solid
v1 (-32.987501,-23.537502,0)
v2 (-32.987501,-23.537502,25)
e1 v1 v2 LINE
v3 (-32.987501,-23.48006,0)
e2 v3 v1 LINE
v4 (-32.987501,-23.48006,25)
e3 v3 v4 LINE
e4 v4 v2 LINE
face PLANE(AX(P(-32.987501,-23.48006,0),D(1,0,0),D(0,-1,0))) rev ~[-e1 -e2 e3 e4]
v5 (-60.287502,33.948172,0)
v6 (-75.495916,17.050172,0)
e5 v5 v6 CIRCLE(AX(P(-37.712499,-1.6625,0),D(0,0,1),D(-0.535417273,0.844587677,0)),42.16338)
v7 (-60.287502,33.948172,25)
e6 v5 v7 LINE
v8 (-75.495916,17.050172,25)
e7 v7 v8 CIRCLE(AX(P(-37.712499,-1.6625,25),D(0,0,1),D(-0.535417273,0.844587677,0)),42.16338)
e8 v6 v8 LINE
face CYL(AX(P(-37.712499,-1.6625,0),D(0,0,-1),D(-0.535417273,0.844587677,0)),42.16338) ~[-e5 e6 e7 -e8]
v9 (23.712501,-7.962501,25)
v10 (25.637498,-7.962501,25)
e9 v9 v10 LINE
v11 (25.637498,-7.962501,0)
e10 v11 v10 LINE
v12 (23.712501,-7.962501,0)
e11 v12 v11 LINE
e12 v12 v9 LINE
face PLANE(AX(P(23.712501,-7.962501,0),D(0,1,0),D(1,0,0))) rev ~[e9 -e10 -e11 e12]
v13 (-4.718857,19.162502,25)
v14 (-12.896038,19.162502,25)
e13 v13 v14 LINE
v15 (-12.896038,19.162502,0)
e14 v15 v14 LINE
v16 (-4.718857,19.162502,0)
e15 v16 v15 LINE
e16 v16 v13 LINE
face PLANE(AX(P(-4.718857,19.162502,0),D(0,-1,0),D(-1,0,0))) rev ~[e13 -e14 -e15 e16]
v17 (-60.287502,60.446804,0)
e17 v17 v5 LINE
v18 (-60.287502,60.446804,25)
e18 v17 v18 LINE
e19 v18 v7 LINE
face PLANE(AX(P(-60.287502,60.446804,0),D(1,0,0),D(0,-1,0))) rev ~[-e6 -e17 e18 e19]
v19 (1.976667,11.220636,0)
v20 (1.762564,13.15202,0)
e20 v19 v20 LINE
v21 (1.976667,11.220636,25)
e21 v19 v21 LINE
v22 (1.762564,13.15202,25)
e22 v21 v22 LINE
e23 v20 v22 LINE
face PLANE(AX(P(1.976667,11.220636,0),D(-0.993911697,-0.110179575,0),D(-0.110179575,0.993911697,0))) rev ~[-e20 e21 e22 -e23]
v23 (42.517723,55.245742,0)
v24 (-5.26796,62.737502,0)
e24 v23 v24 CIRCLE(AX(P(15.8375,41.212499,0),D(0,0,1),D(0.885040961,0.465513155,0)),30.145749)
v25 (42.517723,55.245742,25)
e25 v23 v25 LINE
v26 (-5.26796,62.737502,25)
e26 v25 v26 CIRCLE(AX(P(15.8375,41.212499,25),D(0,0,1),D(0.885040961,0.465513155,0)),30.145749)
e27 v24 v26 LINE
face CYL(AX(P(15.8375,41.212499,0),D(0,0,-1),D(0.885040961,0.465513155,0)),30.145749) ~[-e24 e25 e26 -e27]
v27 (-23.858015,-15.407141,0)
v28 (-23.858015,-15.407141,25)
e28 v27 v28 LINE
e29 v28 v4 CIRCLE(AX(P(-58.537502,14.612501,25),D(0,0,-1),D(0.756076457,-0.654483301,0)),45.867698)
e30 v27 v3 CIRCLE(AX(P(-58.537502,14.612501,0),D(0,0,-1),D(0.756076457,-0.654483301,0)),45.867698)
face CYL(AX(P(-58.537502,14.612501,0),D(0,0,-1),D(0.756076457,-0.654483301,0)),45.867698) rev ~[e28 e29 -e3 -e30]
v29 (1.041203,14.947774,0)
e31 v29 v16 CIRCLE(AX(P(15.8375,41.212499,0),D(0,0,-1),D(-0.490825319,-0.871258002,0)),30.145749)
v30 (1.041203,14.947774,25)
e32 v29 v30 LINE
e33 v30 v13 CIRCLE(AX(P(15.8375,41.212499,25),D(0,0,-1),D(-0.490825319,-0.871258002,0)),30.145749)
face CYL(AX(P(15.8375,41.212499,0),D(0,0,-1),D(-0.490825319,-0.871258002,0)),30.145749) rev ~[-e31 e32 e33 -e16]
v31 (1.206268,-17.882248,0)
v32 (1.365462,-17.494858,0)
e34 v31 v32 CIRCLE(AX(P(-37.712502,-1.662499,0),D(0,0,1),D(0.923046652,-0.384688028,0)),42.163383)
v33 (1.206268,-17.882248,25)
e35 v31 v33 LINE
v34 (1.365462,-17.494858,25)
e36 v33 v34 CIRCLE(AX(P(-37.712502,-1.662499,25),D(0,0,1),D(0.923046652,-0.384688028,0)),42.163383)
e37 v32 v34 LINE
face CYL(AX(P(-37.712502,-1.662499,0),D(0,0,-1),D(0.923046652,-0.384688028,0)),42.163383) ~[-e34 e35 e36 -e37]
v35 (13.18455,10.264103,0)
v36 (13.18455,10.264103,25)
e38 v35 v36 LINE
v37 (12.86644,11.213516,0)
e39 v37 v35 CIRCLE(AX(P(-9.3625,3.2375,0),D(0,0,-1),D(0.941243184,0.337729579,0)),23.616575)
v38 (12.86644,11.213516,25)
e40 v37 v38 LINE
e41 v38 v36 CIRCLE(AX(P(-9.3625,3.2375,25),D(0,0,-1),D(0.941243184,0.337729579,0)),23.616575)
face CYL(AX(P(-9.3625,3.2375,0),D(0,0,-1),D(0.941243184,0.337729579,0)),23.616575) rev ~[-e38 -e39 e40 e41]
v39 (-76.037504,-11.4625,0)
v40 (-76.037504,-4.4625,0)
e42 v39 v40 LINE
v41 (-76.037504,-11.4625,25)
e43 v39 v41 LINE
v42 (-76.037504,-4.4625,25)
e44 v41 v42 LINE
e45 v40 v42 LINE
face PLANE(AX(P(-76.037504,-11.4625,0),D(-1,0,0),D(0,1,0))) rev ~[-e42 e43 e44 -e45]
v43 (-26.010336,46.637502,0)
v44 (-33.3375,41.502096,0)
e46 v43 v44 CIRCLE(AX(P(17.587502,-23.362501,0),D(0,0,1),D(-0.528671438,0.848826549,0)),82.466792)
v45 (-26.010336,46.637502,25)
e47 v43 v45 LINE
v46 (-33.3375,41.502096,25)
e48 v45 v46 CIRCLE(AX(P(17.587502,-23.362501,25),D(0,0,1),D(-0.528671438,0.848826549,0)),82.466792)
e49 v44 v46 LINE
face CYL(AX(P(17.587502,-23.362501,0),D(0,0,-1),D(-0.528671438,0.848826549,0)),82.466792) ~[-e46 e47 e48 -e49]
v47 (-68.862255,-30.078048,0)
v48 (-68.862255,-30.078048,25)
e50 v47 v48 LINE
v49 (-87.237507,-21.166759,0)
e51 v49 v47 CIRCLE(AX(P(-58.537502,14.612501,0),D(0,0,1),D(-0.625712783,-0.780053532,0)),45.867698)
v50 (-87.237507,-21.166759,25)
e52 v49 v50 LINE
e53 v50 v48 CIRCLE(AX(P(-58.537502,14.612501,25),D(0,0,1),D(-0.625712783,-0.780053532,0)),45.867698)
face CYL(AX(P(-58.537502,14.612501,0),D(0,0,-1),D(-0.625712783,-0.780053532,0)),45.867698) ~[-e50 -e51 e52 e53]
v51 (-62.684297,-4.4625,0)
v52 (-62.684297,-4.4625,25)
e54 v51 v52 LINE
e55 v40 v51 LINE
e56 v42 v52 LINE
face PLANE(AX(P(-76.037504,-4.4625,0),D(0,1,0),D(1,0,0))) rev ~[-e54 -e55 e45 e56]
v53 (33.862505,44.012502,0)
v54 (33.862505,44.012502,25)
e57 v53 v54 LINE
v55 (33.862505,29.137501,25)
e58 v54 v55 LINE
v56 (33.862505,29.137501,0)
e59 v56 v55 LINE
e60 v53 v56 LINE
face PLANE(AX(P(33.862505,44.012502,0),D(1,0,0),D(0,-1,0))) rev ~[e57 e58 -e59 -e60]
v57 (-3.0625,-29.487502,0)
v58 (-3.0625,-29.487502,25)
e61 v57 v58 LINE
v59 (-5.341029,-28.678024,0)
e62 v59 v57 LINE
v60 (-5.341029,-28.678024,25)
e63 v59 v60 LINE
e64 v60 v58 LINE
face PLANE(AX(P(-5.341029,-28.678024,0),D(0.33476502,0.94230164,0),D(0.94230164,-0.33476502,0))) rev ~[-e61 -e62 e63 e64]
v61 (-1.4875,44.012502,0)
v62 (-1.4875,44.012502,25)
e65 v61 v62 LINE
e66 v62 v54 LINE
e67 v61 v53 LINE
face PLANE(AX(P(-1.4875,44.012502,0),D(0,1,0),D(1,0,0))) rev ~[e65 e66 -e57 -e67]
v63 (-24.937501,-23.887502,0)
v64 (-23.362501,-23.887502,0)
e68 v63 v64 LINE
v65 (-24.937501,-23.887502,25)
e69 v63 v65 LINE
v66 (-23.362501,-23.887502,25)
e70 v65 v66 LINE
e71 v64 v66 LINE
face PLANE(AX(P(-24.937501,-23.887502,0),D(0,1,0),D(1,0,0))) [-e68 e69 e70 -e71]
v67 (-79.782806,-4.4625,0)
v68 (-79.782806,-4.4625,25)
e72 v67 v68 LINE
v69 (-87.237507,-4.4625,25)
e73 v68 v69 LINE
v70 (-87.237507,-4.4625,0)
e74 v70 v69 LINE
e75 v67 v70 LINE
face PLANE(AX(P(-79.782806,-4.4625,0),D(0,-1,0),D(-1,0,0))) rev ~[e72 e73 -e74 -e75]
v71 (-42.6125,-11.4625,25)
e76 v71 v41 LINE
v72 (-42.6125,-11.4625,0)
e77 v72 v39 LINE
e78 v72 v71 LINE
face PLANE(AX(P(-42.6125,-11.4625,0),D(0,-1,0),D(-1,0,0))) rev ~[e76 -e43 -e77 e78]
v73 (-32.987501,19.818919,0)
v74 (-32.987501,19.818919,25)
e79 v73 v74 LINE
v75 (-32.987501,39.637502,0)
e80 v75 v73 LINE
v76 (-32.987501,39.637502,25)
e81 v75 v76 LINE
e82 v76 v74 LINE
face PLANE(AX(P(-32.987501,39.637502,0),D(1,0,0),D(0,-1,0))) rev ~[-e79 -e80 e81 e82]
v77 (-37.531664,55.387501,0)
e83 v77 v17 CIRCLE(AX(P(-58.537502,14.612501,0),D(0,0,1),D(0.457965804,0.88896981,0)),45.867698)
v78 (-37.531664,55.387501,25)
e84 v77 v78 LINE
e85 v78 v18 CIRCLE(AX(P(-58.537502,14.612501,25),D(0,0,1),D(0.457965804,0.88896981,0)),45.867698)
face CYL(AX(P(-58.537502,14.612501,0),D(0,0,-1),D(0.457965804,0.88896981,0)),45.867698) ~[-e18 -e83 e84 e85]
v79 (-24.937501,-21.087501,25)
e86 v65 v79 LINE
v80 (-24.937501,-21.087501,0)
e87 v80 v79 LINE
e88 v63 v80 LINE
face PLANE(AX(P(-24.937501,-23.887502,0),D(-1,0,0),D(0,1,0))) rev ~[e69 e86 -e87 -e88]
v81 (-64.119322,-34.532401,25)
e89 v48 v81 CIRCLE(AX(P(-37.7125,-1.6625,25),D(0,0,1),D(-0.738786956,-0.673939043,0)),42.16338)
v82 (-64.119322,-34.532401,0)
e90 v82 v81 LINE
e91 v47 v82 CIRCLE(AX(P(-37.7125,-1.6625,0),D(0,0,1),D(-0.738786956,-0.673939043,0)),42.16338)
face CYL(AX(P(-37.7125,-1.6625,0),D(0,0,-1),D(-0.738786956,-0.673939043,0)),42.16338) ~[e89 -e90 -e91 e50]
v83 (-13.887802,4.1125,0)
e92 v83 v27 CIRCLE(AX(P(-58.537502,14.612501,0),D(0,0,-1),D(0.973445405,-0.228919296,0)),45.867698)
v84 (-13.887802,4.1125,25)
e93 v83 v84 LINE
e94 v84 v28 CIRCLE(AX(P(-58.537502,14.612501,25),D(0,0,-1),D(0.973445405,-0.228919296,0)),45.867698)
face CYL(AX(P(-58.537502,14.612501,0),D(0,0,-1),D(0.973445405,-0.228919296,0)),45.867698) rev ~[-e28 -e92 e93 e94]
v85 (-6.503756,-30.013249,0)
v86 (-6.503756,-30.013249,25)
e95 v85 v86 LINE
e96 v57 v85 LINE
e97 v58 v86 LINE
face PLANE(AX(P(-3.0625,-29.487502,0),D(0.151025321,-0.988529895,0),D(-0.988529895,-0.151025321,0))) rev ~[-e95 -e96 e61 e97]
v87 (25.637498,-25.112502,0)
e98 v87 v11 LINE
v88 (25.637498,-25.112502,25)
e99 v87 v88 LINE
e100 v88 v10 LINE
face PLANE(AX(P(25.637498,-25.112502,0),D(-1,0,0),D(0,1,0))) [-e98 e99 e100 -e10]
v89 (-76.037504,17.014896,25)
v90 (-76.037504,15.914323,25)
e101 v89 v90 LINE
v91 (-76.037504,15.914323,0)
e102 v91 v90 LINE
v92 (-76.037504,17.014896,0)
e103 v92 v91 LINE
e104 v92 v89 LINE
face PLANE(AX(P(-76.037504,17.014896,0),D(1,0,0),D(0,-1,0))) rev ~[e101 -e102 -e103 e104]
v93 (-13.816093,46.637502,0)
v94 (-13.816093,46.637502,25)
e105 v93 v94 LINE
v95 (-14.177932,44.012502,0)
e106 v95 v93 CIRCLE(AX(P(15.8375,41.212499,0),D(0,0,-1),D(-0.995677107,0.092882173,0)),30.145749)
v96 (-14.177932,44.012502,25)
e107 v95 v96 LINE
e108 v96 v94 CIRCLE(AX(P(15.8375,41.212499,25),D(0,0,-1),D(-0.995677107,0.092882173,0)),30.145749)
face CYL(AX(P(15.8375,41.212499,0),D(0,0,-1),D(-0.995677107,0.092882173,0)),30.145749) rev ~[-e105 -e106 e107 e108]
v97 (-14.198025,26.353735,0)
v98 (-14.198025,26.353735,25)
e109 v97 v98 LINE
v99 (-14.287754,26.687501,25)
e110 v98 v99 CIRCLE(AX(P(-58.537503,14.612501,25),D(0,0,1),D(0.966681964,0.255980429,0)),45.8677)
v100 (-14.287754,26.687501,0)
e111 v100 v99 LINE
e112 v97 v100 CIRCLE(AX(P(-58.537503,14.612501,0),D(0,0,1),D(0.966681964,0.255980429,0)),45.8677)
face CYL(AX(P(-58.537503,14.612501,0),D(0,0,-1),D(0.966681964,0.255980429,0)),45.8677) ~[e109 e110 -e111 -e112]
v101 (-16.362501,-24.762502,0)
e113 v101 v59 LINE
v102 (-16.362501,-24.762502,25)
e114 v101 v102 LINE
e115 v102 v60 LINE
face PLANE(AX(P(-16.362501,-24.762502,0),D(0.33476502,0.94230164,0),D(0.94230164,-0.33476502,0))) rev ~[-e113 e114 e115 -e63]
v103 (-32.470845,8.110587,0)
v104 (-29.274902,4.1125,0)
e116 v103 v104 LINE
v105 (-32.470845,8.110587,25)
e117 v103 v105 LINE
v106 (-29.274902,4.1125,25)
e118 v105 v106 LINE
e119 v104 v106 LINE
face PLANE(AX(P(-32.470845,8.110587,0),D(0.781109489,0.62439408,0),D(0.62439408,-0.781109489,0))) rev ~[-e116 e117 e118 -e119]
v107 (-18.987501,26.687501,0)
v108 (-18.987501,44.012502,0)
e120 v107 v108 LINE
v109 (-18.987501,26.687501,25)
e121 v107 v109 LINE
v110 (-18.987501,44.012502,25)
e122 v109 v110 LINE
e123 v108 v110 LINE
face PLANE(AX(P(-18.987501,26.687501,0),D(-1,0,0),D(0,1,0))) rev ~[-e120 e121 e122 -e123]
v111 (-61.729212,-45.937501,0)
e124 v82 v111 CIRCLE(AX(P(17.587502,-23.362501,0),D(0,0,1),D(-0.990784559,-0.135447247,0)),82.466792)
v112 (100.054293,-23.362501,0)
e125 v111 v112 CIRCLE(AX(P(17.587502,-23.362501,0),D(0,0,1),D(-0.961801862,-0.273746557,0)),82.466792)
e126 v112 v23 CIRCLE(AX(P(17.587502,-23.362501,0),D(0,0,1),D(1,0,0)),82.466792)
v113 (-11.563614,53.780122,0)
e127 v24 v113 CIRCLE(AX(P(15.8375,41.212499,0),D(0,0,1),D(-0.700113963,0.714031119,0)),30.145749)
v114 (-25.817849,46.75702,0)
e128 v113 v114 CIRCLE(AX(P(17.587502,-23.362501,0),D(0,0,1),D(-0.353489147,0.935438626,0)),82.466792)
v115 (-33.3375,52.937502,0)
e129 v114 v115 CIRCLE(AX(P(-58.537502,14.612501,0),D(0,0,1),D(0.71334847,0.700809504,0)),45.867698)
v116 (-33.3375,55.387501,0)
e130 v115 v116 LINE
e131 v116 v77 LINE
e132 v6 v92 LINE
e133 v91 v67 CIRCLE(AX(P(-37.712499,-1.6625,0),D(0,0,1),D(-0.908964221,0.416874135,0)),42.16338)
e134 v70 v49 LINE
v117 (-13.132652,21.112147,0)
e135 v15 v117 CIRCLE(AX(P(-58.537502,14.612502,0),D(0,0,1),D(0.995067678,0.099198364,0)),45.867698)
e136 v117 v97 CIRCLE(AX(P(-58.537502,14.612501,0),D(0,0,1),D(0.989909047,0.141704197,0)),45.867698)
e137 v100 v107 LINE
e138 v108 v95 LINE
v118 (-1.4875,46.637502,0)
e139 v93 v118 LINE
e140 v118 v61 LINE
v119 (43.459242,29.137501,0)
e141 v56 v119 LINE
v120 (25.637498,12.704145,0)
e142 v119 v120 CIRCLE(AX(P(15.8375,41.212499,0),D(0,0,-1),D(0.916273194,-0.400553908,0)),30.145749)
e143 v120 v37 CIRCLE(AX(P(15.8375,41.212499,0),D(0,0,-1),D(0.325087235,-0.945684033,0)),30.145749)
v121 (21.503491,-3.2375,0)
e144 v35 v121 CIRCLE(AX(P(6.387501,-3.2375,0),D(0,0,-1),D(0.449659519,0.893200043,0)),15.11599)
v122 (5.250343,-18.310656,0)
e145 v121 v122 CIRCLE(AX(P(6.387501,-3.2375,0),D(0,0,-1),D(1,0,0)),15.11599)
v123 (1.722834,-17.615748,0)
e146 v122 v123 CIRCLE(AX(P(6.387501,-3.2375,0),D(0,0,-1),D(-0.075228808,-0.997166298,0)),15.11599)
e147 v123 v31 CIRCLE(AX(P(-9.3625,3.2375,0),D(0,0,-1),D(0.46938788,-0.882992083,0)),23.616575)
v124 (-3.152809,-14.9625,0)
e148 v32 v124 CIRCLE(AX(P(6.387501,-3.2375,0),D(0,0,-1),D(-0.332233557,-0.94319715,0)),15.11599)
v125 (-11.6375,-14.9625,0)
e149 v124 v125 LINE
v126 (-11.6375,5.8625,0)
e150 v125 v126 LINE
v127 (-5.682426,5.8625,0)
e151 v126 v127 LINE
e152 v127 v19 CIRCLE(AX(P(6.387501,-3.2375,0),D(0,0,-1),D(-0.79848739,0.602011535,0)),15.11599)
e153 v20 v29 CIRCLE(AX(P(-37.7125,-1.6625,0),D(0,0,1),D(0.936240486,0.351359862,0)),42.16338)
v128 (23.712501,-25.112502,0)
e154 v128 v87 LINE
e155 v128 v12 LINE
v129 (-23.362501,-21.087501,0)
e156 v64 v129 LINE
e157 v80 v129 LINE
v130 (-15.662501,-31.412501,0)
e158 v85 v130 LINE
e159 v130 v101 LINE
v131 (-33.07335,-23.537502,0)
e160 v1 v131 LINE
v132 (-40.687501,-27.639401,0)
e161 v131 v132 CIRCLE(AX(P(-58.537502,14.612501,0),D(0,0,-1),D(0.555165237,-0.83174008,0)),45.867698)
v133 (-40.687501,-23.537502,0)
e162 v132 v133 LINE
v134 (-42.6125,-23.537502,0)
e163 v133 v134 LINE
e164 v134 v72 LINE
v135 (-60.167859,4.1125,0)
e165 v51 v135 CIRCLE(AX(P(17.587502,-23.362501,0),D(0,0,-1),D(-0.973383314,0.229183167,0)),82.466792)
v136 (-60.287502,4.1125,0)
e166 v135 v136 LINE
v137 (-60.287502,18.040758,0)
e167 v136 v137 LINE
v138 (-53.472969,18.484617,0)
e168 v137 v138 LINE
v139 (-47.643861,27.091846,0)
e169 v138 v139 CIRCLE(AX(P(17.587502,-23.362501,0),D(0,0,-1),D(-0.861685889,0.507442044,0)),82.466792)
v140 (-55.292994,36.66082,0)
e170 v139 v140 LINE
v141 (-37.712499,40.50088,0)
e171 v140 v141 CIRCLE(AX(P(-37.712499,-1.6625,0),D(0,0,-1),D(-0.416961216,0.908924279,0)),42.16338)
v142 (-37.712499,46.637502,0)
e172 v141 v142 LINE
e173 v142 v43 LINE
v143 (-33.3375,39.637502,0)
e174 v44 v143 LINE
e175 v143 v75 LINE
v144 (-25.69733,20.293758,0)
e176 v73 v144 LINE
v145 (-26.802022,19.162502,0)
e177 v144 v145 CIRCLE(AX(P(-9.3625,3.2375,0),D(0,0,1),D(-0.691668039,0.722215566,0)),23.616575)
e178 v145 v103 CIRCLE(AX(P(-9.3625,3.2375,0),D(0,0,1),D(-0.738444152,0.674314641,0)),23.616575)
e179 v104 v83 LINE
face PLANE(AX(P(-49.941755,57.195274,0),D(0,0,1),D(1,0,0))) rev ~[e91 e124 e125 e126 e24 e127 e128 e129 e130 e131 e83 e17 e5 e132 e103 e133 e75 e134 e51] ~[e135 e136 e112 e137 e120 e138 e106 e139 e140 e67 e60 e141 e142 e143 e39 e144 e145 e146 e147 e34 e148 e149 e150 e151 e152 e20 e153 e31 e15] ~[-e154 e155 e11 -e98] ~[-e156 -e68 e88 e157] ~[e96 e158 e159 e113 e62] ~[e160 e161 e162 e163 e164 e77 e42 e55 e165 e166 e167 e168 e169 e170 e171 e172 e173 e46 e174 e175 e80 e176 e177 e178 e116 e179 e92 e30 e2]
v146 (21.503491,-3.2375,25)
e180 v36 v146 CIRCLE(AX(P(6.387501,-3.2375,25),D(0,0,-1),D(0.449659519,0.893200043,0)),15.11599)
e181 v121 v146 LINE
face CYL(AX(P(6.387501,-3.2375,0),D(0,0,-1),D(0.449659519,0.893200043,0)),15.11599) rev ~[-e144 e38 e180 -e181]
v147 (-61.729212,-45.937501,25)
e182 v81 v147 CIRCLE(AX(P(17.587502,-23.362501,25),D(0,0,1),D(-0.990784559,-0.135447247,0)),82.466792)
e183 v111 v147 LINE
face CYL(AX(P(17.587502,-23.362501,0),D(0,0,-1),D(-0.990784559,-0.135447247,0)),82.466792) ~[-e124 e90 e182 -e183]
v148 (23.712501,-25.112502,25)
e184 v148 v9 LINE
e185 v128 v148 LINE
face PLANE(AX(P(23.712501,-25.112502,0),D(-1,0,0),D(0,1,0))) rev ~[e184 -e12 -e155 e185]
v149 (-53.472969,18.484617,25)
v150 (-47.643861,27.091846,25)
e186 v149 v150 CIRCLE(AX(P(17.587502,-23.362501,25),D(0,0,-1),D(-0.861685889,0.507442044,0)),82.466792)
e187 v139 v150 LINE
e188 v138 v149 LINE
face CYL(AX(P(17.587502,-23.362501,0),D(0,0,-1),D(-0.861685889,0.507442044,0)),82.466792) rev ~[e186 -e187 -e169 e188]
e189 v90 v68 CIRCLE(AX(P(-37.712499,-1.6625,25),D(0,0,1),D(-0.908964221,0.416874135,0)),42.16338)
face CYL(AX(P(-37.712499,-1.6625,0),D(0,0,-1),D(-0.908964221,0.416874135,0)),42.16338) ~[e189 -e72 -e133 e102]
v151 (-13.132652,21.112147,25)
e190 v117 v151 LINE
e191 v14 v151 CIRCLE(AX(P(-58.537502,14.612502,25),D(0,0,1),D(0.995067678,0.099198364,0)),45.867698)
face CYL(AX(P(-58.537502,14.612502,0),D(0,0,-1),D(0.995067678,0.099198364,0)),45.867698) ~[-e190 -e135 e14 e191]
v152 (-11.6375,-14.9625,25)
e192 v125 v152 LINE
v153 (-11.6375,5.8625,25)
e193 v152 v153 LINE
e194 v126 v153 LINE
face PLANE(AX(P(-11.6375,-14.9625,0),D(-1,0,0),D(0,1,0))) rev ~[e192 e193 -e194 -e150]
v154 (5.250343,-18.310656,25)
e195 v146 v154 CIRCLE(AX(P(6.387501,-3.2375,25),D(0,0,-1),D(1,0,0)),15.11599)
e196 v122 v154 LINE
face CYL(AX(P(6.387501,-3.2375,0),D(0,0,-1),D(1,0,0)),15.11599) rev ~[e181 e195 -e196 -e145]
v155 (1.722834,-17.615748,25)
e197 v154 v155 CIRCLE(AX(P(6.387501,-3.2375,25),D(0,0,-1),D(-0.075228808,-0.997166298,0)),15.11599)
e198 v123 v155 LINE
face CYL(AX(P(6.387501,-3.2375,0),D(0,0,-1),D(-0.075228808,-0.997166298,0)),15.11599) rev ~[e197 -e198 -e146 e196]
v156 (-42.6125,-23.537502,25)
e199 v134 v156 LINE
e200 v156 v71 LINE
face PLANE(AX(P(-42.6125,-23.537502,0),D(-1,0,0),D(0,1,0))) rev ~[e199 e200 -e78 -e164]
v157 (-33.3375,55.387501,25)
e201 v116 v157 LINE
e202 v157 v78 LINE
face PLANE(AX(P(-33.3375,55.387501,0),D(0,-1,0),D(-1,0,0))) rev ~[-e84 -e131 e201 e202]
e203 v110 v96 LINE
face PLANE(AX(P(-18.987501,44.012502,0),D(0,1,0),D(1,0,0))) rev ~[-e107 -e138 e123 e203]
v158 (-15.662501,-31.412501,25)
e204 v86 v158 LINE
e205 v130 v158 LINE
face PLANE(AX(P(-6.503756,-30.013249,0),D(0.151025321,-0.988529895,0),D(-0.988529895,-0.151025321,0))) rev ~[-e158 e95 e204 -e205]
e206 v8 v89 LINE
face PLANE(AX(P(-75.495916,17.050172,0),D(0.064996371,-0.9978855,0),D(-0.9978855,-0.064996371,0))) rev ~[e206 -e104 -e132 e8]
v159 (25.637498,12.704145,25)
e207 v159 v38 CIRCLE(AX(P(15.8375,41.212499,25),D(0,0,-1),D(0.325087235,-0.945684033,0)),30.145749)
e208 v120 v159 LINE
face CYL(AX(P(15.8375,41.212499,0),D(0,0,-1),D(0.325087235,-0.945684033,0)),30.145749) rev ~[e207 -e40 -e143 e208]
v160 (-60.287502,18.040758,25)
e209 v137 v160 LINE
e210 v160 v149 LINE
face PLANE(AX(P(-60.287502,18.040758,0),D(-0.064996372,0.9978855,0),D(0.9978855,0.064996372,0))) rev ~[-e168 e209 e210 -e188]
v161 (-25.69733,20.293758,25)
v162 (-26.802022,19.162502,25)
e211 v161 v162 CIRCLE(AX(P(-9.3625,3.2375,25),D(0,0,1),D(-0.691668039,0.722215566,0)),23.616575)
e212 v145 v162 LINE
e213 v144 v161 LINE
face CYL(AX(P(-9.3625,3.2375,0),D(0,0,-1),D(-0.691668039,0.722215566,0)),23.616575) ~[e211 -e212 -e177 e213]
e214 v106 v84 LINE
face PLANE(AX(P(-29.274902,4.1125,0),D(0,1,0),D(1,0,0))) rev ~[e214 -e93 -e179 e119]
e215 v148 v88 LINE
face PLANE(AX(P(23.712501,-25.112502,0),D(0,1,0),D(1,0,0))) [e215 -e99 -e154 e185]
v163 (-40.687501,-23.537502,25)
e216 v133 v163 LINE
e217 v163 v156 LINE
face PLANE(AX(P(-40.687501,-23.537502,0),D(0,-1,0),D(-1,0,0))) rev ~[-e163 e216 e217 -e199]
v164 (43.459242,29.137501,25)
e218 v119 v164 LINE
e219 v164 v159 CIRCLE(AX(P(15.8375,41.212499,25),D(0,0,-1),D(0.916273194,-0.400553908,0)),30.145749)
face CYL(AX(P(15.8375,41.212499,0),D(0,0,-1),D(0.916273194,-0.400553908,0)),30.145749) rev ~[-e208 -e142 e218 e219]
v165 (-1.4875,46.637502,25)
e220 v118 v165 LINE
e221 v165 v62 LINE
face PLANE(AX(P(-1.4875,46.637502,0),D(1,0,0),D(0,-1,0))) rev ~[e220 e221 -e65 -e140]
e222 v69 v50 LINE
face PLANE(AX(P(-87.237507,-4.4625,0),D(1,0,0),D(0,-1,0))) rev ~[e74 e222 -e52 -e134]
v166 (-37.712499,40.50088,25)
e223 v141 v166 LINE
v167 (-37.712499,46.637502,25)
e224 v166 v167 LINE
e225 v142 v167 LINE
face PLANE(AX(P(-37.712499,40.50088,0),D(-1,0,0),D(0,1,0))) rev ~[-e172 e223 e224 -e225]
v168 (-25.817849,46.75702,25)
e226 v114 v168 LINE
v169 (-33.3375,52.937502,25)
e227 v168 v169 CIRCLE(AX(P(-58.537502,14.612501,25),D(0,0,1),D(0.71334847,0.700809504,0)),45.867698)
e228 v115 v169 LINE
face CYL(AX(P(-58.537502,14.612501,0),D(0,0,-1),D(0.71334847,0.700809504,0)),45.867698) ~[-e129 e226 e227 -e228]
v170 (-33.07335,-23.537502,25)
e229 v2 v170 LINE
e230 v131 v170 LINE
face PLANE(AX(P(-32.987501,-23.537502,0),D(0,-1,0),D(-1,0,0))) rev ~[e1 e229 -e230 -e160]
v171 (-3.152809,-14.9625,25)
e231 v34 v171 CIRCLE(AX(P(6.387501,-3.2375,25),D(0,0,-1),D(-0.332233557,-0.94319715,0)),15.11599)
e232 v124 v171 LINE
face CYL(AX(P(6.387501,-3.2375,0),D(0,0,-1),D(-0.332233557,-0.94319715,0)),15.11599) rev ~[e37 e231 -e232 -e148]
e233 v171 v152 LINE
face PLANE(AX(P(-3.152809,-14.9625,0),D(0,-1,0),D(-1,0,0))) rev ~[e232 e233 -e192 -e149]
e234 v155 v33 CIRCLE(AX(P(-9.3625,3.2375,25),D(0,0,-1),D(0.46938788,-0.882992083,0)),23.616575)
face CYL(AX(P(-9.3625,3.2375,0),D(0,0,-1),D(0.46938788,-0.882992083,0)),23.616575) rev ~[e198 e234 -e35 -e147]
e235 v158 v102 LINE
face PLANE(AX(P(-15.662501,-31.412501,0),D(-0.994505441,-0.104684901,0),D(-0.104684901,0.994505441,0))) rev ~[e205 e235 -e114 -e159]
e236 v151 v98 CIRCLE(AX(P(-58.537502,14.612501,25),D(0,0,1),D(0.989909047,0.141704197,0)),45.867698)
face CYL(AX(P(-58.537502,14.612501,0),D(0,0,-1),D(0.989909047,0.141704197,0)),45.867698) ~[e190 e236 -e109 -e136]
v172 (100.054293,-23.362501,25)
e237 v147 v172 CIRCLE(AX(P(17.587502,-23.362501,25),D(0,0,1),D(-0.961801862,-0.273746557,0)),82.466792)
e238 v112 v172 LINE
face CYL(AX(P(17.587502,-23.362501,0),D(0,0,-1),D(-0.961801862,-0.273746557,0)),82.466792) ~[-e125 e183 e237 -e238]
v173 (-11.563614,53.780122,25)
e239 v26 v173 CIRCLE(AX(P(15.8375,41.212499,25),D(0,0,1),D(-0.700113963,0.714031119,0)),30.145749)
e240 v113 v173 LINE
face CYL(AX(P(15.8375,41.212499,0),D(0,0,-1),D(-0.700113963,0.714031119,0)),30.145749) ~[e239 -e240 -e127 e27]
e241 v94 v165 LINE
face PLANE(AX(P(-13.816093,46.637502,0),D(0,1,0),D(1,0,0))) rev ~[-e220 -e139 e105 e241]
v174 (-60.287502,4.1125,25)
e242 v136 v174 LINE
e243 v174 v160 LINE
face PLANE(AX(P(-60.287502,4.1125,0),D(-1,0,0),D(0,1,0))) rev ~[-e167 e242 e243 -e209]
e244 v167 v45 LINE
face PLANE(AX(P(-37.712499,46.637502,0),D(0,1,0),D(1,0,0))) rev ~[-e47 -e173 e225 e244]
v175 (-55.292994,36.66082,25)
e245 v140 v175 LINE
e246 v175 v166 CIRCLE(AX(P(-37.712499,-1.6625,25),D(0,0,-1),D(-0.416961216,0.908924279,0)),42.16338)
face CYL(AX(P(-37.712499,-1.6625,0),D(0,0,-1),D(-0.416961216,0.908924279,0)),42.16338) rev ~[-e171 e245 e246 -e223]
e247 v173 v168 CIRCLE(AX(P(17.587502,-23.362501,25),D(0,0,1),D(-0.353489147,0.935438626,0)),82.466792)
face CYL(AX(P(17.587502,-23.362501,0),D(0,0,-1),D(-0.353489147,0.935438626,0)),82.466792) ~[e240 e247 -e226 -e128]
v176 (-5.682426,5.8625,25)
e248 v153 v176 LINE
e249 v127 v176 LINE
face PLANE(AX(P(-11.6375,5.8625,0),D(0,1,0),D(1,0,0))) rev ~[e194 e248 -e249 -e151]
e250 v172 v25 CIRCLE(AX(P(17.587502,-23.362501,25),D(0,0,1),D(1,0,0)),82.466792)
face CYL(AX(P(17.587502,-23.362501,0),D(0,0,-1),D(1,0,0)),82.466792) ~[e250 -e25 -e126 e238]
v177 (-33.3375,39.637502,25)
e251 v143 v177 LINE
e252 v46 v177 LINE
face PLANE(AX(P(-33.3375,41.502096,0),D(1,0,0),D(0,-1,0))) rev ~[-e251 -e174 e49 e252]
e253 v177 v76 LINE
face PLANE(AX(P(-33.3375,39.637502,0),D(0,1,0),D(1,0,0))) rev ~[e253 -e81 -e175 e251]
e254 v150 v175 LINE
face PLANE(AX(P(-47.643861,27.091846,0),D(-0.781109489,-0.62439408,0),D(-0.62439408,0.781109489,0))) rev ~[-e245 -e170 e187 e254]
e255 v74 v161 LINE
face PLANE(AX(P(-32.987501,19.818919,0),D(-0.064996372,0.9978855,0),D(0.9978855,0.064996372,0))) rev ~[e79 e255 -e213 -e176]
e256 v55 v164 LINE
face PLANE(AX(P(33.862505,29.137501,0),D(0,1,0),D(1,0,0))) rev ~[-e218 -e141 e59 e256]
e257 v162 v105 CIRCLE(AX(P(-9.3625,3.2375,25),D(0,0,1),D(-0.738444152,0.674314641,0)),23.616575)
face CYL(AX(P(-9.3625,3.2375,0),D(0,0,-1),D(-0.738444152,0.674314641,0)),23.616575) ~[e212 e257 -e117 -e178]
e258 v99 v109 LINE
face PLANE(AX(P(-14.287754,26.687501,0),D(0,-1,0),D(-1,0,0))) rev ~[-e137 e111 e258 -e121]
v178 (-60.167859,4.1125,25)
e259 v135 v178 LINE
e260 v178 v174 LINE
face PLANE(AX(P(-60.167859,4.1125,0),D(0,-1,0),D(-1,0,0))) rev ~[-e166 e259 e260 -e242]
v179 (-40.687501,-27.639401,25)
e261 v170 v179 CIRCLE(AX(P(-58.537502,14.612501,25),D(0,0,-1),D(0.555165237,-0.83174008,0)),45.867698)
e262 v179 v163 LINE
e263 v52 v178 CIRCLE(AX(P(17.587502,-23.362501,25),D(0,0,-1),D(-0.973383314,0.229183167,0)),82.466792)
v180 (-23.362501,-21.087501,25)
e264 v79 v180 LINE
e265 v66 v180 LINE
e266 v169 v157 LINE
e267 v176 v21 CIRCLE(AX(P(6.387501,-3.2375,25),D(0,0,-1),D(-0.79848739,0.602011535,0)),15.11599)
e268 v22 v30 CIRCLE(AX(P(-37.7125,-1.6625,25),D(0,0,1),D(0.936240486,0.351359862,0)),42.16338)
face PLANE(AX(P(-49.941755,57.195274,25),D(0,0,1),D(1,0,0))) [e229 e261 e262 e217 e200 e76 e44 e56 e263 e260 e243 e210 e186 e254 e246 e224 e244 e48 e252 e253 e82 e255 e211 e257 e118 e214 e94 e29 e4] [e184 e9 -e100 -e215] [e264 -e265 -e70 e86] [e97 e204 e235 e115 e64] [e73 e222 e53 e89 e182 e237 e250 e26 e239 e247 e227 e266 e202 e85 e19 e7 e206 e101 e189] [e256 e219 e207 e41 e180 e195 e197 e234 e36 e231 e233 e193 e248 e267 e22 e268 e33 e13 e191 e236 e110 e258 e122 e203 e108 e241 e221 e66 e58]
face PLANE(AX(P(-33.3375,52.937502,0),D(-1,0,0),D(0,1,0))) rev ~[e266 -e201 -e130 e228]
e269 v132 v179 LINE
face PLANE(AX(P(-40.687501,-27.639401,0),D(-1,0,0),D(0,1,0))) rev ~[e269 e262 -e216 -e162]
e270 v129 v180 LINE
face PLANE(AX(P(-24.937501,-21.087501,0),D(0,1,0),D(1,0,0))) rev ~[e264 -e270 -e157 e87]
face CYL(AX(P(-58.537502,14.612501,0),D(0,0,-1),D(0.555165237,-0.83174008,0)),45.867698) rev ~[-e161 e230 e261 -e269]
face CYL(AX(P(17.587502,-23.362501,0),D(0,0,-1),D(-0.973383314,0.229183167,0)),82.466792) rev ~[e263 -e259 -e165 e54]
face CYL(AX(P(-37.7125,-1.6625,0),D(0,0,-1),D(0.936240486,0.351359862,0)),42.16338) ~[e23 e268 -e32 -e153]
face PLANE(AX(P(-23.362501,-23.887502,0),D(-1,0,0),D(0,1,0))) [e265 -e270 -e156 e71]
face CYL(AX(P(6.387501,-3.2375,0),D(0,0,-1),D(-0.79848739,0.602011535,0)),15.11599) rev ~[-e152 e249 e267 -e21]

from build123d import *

# Parameters (mm, degrees)
F0_W     = 1.5750005841
F0_H     = 2.8000008315
F0_W_2   = 1.9249971956
F0_H_2   = 17.1500016004
F1_DEPTH = 25


with BuildPart() as f1:
    # F0 (on Top) → F1 (new body)
    with BuildSketch(Plane.XY):
        with BuildLine():
            Line((-60.287501663, 60.446803747), (-60.287501663, 55.3875006735))
            Line((-60.287501663, 55.3875006735), (-37.5316644539, 55.3875006735))
            ThreePointArc((-37.5316644539, 55.3875006735), (-48.5828066181, 59.3869339908), (-60.287501663, 60.446803747))
        make_face()
        with BuildLine():
            Line((-33.3374999464, 55.3875006735), (-37.5316644539, 55.3875006735))
            ThreePointArc((-37.5316644539, 55.3875006735), (-35.4021280758, 54.2180597299), (-33.3374999464, 52.9375020415))
            Line((-33.3374999464, 52.9375020415), (-33.3374999464, 55.3875006735))
        make_face()
        with BuildLine():
            ThreePointArc((-76.0375037789, 15.9143227634), (-75.7709475165, 16.4842679229), (-75.4959159662, 17.0501719537))
            Line((-75.4959159662, 17.0501719537), (-76.0375037789, 17.0148961203))
            Line((-76.0375037789, 17.0148961203), (-76.0375037789, 15.9143227634))
        make_face()
        with BuildLine():
            ThreePointArc((-68.8622549791, -30.0780482485), (-76.4982369381, -18.1978324961), (-79.782805532, -4.4625001028))
            Line((-79.782805532, -4.4625001028), (-87.2375071049, -4.4625001028))
            Line((-87.2375071049, -4.4625001028), (-87.2375071049, -21.1667587193))
            ThreePointArc((-87.2375071049, -21.1667587193), (-78.5521392934, -26.6580697555), (-68.8622549791, -30.0780482485))
        make_face()
        with BuildLine():
            Line((-76.0375037789, -4.4625001028), (-76.0375037789, 15.9143227634))
            ThreePointArc((-76.0375037789, 15.9143227634), (-79.1812251559, 5.9595366901), (-79.782805532, -4.4625001028))
            Line((-79.782805532, -4.4625001028), (-76.0375037789, -4.4625001028))
        make_face()
        with BuildLine():
            ThreePointArc((-64.5376681468, -30.8610487078), (-66.7093450323, -30.5213742814), (-68.8622549791, -30.0780482485))
            ThreePointArc((-68.8622549791, -30.0780482485), (-66.5768414846, -32.3968522842), (-64.1193222606, -34.5324005185))
            ThreePointArc((-64.1193222606, -34.5324005185), (-64.3490606807, -32.6990680232), (-64.5376681468, -30.8610487078))
        make_face()
        with BuildLine():
            ThreePointArc((42.5177226998, 55.2457419531), (20.5066660785, 70.9944581251), (-5.2679600643, 62.7375021577))
            Line((-5.2679600643, 62.7375021577), (2.8875006828, 62.7375021577))
            Line((2.8875006828, 62.7375021577), (2.8875006828, 57.7835510474))
            ThreePointArc((2.8875006828, 57.7835510474), (22.8576505526, 58.9357208461), (42.5177226998, 55.2457419531))
        make_face()
        with BuildLine():
            ThreePointArc((-5.2679600643, 62.7375021577), (-8.8258453921, 58.5470194508), (-11.5636143117, 53.7801216477))
            ThreePointArc((-11.5636143117, 53.7801216477), (-4.4292414273, 56.1109839846), (2.8875006828, 57.7835510474))
            Line((2.8875006828, 57.7835510474), (2.8875006828, 62.7375021577))
            Line((2.8875006828, 62.7375021577), (-5.2679600643, 62.7375021577))
        make_face()
        with BuildLine():
            ThreePointArc((-40.6875014305, -43.7207930158), (-53.105015367, -40.9157941716), (-64.1193222606, -34.5324005185))
            ThreePointArc((-64.1193222606, -34.5324005185), (-63.1259669187, -40.2772199028), (-61.7292122183, -45.9375008941))
            Line((-61.7292122183, -45.9375008941), (-40.6875014305, -45.9375008941))
            Line((-40.6875014305, -45.9375008941), (-40.6875014305, -43.7207930158))
        make_face()
        with BuildLine():
            Line((-55.2929938789, 36.6608201864), (-60.287501663, 42.9088893908))
            Line((-60.287501663, 42.9088893908), (-60.287501663, 33.9481715731))
            ThreePointArc((-60.287501663, 33.9481715731), (-57.8360079231, 35.3887491204), (-55.2929938789, 36.6608201864))
        make_face()
        with BuildLine():
            Line((-60.287501663, 18.0407582945), (-60.287501663, 33.9481715731))
            ThreePointArc((-60.287501663, 33.9481715731), (-69.0520954233, 26.543534451), (-75.4959159662, 17.0501719537))
            Line((-75.4959159662, 17.0501719537), (-60.287501663, 18.0407582945))
        make_face()
        with BuildLine():
            ThreePointArc((-25.8178493246, 46.7570204938), (-29.4132648585, 50.0472948851), (-33.3374999464, 52.9375020415))
            Line((-33.3374999464, 52.9375020415), (-33.3374999464, 46.6375015676))
            Line((-33.3374999464, 46.6375015676), (-26.010335776, 46.6375015676))
            ThreePointArc((-26.010335776, 46.6375015676), (-25.914133597, 46.6973271368), (-25.8178493246, 46.7570204938))
        make_face()
        with BuildLine():
            ThreePointArc((-11.5636143117, 53.7801216477), (-18.8602858145, 50.6127014568), (-25.8178493246, 46.7570204938))
            ThreePointArc((-25.8178493246, 46.7570204938), (-25.7592995368, 46.6973143535), (-25.7008586993, 46.6375015676))
            Line((-25.7008586993, 46.6375015676), (-13.816092535, 46.6375015676))
            ThreePointArc((-13.816092535, 46.6375015676), (-12.9125286748, 50.2790338999), (-11.5636143117, 53.7801216477))
        make_face()
        with BuildLine():
            ThreePointArc((-25.7008586993, 46.6375015676), (-25.7592995368, 46.6973143535), (-25.8178493246, 46.7570204938))
            ThreePointArc((-25.8178493246, 46.7570204938), (-25.914133597, 46.6973271368), (-26.010335776, 46.6375015676))
            Line((-26.010335776, 46.6375015676), (-25.7008586993, 46.6375015676))
        make_face()
        with BuildLine():
            Line((-76.0375037789, -11.4625003189), (-76.0375037789, -4.4625001028))
            Line((-76.0375037789, -4.4625001028), (-79.782805532, -4.4625001028))
            ThreePointArc((-79.782805532, -4.4625001028), (-76.4982369381, -18.1978324961), (-68.8622549791, -30.0780482485))
            ThreePointArc((-68.8622549791, -30.0780482485), (-66.7093450323, -30.5213742814), (-64.5376681468, -30.8610487078))
            ThreePointArc((-64.5376681468, -30.8610487078), (-64.8495079797, -21.1463820593), (-64.0161853461, -11.4625003189))
            Line((-64.0161853461, -11.4625003189), (-76.0375037789, -11.4625003189))
        make_face()
        with BuildLine():
            ThreePointArc((2.8875006828, 57.7835510474), (-4.4292414273, 56.1109839846), (-11.5636143117, 53.7801216477))
            ThreePointArc((-11.5636143117, 53.7801216477), (-12.9125286748, 50.2790338999), (-13.816092535, 46.6375015676))
            Line((-13.816092535, 46.6375015676), (-1.4875002671, 46.6375015676))
            Line((-1.4875002671, 46.6375015676), (-1.4875002671, 44.0125018358))
            Line((-1.4875002671, 44.0125018358), (2.8875006828, 44.0125018358))
            Line((2.8875006828, 44.0125018358), (2.8875006828, 57.7835510474))
        make_face()
        with BuildLine():
            ThreePointArc((42.5177226998, 55.2457419531), (22.8576505526, 58.9357208461), (2.8875006828, 57.7835510474))
            Line((2.8875006828, 57.7835510474), (2.8875006828, 44.0125018358))
            Line((2.8875006828, 44.0125018358), (33.8625051081, 44.0125018358))
            Line((33.8625051081, 44.0125018358), (33.8625051081, 29.1375014931))
            Line((33.8625051081, 29.1375014931), (43.4592417746, 29.1375014931))
            ThreePointArc((43.4592417746, 29.1375014931), (45.3455013072, 35.0445136323), (45.9832490573, 41.2124991417))
            ThreePointArc((45.9832490573, 41.2124991417), (45.1040464698, 48.4399083722), (42.5177226998, 55.2457419531))
        make_face()
        with BuildLine():
            ThreePointArc((-55.2929938789, 36.6608201864), (-57.8360079231, 35.3887491204), (-60.287501663, 33.9481715731))
            Line((-60.287501663, 33.9481715731), (-60.287501663, 18.0407582945))
            Line((-60.287501663, 18.0407582945), (-53.4729691366, 18.4846167208))
            ThreePointArc((-53.4729691366, 18.4846167208), (-50.6941725689, 22.8801712722), (-47.6438605363, 27.0918463169))
            Line((-47.6438605363, 27.0918463169), (-55.2929938789, 36.6608201864))
        make_face()
        with BuildLine():
            Line((-37.5316644539, 55.3875006735), (-60.287501663, 55.3875006735))
            Line((-60.287501663, 55.3875006735), (-60.287501663, 42.9088893908))
            Line((-60.287501663, 42.9088893908), (-55.2929938789, 36.6608201864))
            ThreePointArc((-55.2929938789, 36.6608201864), (-46.7099970075, 39.52967998), (-37.7124994993, 40.5008804737))
            Line((-37.7124994993, 40.5008804737), (-37.7124994993, 46.6375015676))
            Line((-37.7124994993, 46.6375015676), (-33.3374999464, 46.6375015676))
            Line((-33.3374999464, 46.6375015676), (-33.3374999464, 52.9375020415))
            ThreePointArc((-33.3374999464, 52.9375020415), (-35.4021280758, 54.2180597299), (-37.5316644539, 55.3875006735))
        make_face()
        with BuildLine():
            Line((-60.287501663, 18.0407582945), (-75.4959159662, 17.0501719537))
            ThreePointArc((-75.4959159662, 17.0501719537), (-75.7709475165, 16.4842679229), (-76.0375037789, 15.9143227634))
            Line((-76.0375037789, 15.9143227634), (-76.0375037789, -4.4625001028))
            Line((-76.0375037789, -4.4625001028), (-62.6842973775, -4.4625001028))
            ThreePointArc((-62.6842973775, -4.4625001028), (-61.5423184863, -0.140887759), (-60.1678587237, 4.1125002317))
            Line((-60.1678587237, 4.1125002317), (-60.287501663, 4.1125002317))
            Line((-60.287501663, 4.1125002317), (-60.287501663, 18.0407582945))
        make_face()
        with BuildLine():
            Line((-42.6125004888, -11.4625003189), (-64.0161853461, -11.4625003189))
            ThreePointArc((-64.0161853461, -11.4625003189), (-64.8495079797, -21.1463820593), (-64.5376681468, -30.8610487078))
            ThreePointArc((-64.5376681468, -30.8610487078), (-64.3490606807, -32.6990680232), (-64.1193222606, -34.5324005185))
            ThreePointArc((-64.1193222606, -34.5324005185), (-53.105015367, -40.9157941716), (-40.6875014305, -43.7207930158))
            Line((-40.6875014305, -43.7207930158), (-40.6875014305, -27.6394008172))
            Line((-40.6875014305, -27.6394008172), (-40.6875014305, -23.5375016928))
            Line((-40.6875014305, -23.5375016928), (-42.6125004888, -23.5375016928))
            Line((-42.6125004888, -23.5375016928), (-42.6125004888, -11.4625003189))
        make_face()
        with BuildLine():
            ThreePointArc((100.0542931902, -23.3625005931), (84.1333018551, 25.3450777187), (42.5177226998, 55.2457419531))
            ThreePointArc((42.5177226998, 55.2457419531), (45.1040464698, 48.4399083722), (45.9832490573, 41.2124991417))
            ThreePointArc((45.9832490573, 41.2124991417), (45.3455013072, 35.0445136323), (43.4592417746, 29.1375014931))
            ThreePointArc((43.4592417746, 29.1375014931), (36.2730193538, 19.0504654477), (25.6374981254, 12.7041454856))
            ThreePointArc((25.6374981254, 12.7041454856), (19.3323665599, 11.2700192713), (12.8664397565, 11.2135158965))
            ThreePointArc((12.8664397565, 11.2135158965), (13.0305268991, 10.7404952978), (13.1845496697, 10.2641025362))
            ThreePointArc((13.1845496697, 10.2641025362), (19.2567912305, 4.6918449856), (21.5034906945, -3.2375000883))
            ThreePointArc((21.5034906945, -3.2375000883), (16.6662139014, -14.3208752648), (5.2503431362, -18.3106555531))
            ThreePointArc((5.2503431362, -18.3106555531), (3.4658546011, -18.0684517067), (1.7228337461, -17.6157483444))
            ThreePointArc((1.7228337461, -17.6157483444), (1.4653706165, -17.7505873056), (1.2062676313, -17.8822476702))
            ThreePointArc((1.2062676313, -17.8822476702), (-11.6833563355, -20.2647599018), (-23.8580149115, -15.4071412368))
            ThreePointArc((-23.8580149115, -15.4071412368), (-28.1534469836, -19.7481587713), (-32.9875014722, -23.4800600457))
            Line((-32.9875014722, -23.4800600457), (-32.9875014722, -23.5375016928))
            Line((-32.9875014722, -23.5375016928), (-33.0733501695, -23.5375016928))
            ThreePointArc((-33.0733501695, -23.5375016928), (-36.7835289452, -25.7683160656), (-40.6875014305, -27.6394008172))
            Line((-40.6875014305, -27.6394008172), (-40.6875014305, -43.7207930158))
            Line((-40.6875014305, -43.7207930158), (-40.6875014305, -45.9375008941))
            Line((-40.6875014305, -45.9375008941), (-61.7292122183, -45.9375008941))
            ThreePointArc((-61.7292122183, -45.9375008941), (28.9843610915, -105.0379761975), (100.0542931902, -23.3625005931))
        make_face()
        with Locations((-24.1500008851, -22.4875016138)):
            Rectangle(F0_W, F0_H, mode=Mode.SUBTRACT)
        Polygon((-16.3625013083, -24.7625019401), (-5.3410292506, -28.6780244764), (-3.0625001527, -29.4875018299), (-6.5037558039, -30.0132489437), (-15.6625006348, -31.4125008881), align=None, mode=Mode.SUBTRACT)
        with Locations((24.6749995276, -16.5375014767)):
            Rectangle(F0_W_2, F0_H_2, mode=Mode.SUBTRACT)
        with BuildLine():
            ThreePointArc((-13.8878015443, 4.1125002317), (-17.6898080597, -6.2516226426), (-23.8580149115, -15.4071412368))
            ThreePointArc((-23.8580149115, -15.4071412368), (-11.6833563355, -20.2647599018), (1.2062676313, -17.8822476702))
            ThreePointArc((1.2062676313, -17.8822476702), (1.2863458282, -17.6887507337), (1.365462001, -17.4948584614))
            ThreePointArc((1.365462001, -17.4948584614), (-1.0029465105, -16.4236454299), (-3.1528093331, -14.9624999613))
            Line((-3.1528093331, -14.9624999613), (-11.6375004873, -14.9624999613))
            Line((-11.6375004873, -14.9624999613), (-11.6375004873, 4.1125002317))
            Line((-11.6375004873, 4.1125002317), (-13.8878015443, 4.1125002317))
        make_face()
        with BuildLine():
            ThreePointArc((-26.8020215903, 19.1625021398), (-30.3760334738, 14.0159051528), (-32.4708454793, 8.1105868589))
            Line((-32.4708454793, 8.1105868589), (-29.2749022002, 4.1125002317))
            Line((-29.2749022002, 4.1125002317), (-13.8878015443, 4.1125002317))
            ThreePointArc((-13.8878015443, 4.1125002317), (-12.7690712668, 11.596456773), (-12.8960376116, 19.1625021398))
            Line((-12.8960376116, 19.1625021398), (-26.8020215903, 19.1625021398))
        make_face()
        with BuildLine():
            ThreePointArc((-18.9875010401, 36.1148091341), (-25.9768398827, 38.8347214631), (-33.3374999464, 40.2732846221))
            Line((-33.3374999464, 40.2732846221), (-33.3374999464, 39.6375022829))
            Line((-33.3374999464, 39.6375022829), (-32.9875014722, 39.6375022829))
            Line((-32.9875014722, 39.6375022829), (-32.9875014722, 19.8189191699))
            Line((-32.9875014722, 19.8189191699), (-25.6973300422, 20.293757907))
            ThreePointArc((-25.6973300422, 20.293757907), (-20.3728048308, 24.1304603645), (-14.1980249826, 26.3537345941))
            ThreePointArc((-14.1980249826, 26.3537345941), (-14.2425753135, 26.5207023114), (-14.2877543869, 26.6875009984))
            Line((-14.2877543869, 26.6875009984), (-18.9875010401, 26.6875009984))
            Line((-18.9875010401, 26.6875009984), (-18.9875010401, 36.1148091341))
        make_face()
        with BuildLine():
            Line((-13.1326521775, 21.1121468607), (-25.6973300422, 20.293757907))
            ThreePointArc((-25.6973300422, 20.293757907), (-26.2591458788, 19.7373777094), (-26.8020215903, 19.1625021398))
            Line((-26.8020215903, 19.1625021398), (-12.8960376116, 19.1625021398))
            ThreePointArc((-12.8960376116, 19.1625021398), (-13.0039087804, 20.1385910575), (-13.1326521775, 21.1121468607))
        make_face()
        with BuildLine():
            ThreePointArc((-26.010335776, 46.6375015676), (-29.743617825, 44.1692464646), (-33.3374999464, 41.5020964111))
            Line((-33.3374999464, 41.5020964111), (-33.3374999464, 40.2732846221))
            ThreePointArc((-33.3374999464, 40.2732846221), (-25.9768398827, 38.8347214631), (-18.9875010401, 36.1148091341))
            Line((-18.9875010401, 36.1148091341), (-18.9875010401, 37.8427231737))
            ThreePointArc((-18.9875010401, 37.8427231737), (-22.0780231411, 42.4432789807), (-25.7008586993, 46.6375015676))
            Line((-25.7008586993, 46.6375015676), (-26.010335776, 46.6375015676))
        make_face()
        with BuildLine():
            Line((-13.816092535, 46.6375015676), (-25.7008586993, 46.6375015676))
            ThreePointArc((-25.7008586993, 46.6375015676), (-22.0780231411, 42.4432789807), (-18.9875010401, 37.8427231737))
            Line((-18.9875010401, 37.8427231737), (-18.9875010401, 44.0125018358))
            Line((-18.9875010401, 44.0125018358), (-14.1779324733, 44.0125018358))
            ThreePointArc((-14.1779324733, 44.0125018358), (-14.0258687361, 45.3289793544), (-13.816092535, 46.6375015676))
        make_face()
        with BuildLine():
            ThreePointArc((-13.1326521775, 21.1121468607), (-13.5888689785, 23.7484834671), (-14.1980249826, 26.3537345941))
            ThreePointArc((-14.1980249826, 26.3537345941), (-20.3728048308, 24.1304603645), (-25.6973300422, 20.293757907))
            Line((-25.6973300422, 20.293757907), (-13.1326521775, 21.1121468607))
        make_face()
        with BuildLine():
            ThreePointArc((1.0412029235, 14.9477739276), (-1.9640035587, 16.8840657855), (-4.7188574458, 19.1625021398))
            Line((-4.7188574458, 19.1625021398), (-12.8960376116, 19.1625021398))
            ThreePointArc((-12.8960376116, 19.1625021398), (-12.7690712668, 11.596456773), (-13.8878015443, 4.1125002317))
            Line((-13.8878015443, 4.1125002317), (-11.6375004873, 4.1125002317))
            Line((-11.6375004873, 4.1125002317), (-11.6375004873, 5.8625000529))
            Line((-11.6375004873, 5.8625000529), (-5.6824261159, 5.8625000529))
            ThreePointArc((-5.6824261159, 5.8625000529), (-2.2774442748, 9.1484543238), (1.9766668895, 11.2206355442))
            Line((1.9766668895, 11.2206355442), (1.7625642985, 13.1520195495))
            ThreePointArc((1.7625642985, 13.1520195495), (1.4121877141, 14.054035936), (1.0412029235, 14.9477739276))
        make_face()
    extrude(amount=F1_DEPTH)


solid = f1.part
